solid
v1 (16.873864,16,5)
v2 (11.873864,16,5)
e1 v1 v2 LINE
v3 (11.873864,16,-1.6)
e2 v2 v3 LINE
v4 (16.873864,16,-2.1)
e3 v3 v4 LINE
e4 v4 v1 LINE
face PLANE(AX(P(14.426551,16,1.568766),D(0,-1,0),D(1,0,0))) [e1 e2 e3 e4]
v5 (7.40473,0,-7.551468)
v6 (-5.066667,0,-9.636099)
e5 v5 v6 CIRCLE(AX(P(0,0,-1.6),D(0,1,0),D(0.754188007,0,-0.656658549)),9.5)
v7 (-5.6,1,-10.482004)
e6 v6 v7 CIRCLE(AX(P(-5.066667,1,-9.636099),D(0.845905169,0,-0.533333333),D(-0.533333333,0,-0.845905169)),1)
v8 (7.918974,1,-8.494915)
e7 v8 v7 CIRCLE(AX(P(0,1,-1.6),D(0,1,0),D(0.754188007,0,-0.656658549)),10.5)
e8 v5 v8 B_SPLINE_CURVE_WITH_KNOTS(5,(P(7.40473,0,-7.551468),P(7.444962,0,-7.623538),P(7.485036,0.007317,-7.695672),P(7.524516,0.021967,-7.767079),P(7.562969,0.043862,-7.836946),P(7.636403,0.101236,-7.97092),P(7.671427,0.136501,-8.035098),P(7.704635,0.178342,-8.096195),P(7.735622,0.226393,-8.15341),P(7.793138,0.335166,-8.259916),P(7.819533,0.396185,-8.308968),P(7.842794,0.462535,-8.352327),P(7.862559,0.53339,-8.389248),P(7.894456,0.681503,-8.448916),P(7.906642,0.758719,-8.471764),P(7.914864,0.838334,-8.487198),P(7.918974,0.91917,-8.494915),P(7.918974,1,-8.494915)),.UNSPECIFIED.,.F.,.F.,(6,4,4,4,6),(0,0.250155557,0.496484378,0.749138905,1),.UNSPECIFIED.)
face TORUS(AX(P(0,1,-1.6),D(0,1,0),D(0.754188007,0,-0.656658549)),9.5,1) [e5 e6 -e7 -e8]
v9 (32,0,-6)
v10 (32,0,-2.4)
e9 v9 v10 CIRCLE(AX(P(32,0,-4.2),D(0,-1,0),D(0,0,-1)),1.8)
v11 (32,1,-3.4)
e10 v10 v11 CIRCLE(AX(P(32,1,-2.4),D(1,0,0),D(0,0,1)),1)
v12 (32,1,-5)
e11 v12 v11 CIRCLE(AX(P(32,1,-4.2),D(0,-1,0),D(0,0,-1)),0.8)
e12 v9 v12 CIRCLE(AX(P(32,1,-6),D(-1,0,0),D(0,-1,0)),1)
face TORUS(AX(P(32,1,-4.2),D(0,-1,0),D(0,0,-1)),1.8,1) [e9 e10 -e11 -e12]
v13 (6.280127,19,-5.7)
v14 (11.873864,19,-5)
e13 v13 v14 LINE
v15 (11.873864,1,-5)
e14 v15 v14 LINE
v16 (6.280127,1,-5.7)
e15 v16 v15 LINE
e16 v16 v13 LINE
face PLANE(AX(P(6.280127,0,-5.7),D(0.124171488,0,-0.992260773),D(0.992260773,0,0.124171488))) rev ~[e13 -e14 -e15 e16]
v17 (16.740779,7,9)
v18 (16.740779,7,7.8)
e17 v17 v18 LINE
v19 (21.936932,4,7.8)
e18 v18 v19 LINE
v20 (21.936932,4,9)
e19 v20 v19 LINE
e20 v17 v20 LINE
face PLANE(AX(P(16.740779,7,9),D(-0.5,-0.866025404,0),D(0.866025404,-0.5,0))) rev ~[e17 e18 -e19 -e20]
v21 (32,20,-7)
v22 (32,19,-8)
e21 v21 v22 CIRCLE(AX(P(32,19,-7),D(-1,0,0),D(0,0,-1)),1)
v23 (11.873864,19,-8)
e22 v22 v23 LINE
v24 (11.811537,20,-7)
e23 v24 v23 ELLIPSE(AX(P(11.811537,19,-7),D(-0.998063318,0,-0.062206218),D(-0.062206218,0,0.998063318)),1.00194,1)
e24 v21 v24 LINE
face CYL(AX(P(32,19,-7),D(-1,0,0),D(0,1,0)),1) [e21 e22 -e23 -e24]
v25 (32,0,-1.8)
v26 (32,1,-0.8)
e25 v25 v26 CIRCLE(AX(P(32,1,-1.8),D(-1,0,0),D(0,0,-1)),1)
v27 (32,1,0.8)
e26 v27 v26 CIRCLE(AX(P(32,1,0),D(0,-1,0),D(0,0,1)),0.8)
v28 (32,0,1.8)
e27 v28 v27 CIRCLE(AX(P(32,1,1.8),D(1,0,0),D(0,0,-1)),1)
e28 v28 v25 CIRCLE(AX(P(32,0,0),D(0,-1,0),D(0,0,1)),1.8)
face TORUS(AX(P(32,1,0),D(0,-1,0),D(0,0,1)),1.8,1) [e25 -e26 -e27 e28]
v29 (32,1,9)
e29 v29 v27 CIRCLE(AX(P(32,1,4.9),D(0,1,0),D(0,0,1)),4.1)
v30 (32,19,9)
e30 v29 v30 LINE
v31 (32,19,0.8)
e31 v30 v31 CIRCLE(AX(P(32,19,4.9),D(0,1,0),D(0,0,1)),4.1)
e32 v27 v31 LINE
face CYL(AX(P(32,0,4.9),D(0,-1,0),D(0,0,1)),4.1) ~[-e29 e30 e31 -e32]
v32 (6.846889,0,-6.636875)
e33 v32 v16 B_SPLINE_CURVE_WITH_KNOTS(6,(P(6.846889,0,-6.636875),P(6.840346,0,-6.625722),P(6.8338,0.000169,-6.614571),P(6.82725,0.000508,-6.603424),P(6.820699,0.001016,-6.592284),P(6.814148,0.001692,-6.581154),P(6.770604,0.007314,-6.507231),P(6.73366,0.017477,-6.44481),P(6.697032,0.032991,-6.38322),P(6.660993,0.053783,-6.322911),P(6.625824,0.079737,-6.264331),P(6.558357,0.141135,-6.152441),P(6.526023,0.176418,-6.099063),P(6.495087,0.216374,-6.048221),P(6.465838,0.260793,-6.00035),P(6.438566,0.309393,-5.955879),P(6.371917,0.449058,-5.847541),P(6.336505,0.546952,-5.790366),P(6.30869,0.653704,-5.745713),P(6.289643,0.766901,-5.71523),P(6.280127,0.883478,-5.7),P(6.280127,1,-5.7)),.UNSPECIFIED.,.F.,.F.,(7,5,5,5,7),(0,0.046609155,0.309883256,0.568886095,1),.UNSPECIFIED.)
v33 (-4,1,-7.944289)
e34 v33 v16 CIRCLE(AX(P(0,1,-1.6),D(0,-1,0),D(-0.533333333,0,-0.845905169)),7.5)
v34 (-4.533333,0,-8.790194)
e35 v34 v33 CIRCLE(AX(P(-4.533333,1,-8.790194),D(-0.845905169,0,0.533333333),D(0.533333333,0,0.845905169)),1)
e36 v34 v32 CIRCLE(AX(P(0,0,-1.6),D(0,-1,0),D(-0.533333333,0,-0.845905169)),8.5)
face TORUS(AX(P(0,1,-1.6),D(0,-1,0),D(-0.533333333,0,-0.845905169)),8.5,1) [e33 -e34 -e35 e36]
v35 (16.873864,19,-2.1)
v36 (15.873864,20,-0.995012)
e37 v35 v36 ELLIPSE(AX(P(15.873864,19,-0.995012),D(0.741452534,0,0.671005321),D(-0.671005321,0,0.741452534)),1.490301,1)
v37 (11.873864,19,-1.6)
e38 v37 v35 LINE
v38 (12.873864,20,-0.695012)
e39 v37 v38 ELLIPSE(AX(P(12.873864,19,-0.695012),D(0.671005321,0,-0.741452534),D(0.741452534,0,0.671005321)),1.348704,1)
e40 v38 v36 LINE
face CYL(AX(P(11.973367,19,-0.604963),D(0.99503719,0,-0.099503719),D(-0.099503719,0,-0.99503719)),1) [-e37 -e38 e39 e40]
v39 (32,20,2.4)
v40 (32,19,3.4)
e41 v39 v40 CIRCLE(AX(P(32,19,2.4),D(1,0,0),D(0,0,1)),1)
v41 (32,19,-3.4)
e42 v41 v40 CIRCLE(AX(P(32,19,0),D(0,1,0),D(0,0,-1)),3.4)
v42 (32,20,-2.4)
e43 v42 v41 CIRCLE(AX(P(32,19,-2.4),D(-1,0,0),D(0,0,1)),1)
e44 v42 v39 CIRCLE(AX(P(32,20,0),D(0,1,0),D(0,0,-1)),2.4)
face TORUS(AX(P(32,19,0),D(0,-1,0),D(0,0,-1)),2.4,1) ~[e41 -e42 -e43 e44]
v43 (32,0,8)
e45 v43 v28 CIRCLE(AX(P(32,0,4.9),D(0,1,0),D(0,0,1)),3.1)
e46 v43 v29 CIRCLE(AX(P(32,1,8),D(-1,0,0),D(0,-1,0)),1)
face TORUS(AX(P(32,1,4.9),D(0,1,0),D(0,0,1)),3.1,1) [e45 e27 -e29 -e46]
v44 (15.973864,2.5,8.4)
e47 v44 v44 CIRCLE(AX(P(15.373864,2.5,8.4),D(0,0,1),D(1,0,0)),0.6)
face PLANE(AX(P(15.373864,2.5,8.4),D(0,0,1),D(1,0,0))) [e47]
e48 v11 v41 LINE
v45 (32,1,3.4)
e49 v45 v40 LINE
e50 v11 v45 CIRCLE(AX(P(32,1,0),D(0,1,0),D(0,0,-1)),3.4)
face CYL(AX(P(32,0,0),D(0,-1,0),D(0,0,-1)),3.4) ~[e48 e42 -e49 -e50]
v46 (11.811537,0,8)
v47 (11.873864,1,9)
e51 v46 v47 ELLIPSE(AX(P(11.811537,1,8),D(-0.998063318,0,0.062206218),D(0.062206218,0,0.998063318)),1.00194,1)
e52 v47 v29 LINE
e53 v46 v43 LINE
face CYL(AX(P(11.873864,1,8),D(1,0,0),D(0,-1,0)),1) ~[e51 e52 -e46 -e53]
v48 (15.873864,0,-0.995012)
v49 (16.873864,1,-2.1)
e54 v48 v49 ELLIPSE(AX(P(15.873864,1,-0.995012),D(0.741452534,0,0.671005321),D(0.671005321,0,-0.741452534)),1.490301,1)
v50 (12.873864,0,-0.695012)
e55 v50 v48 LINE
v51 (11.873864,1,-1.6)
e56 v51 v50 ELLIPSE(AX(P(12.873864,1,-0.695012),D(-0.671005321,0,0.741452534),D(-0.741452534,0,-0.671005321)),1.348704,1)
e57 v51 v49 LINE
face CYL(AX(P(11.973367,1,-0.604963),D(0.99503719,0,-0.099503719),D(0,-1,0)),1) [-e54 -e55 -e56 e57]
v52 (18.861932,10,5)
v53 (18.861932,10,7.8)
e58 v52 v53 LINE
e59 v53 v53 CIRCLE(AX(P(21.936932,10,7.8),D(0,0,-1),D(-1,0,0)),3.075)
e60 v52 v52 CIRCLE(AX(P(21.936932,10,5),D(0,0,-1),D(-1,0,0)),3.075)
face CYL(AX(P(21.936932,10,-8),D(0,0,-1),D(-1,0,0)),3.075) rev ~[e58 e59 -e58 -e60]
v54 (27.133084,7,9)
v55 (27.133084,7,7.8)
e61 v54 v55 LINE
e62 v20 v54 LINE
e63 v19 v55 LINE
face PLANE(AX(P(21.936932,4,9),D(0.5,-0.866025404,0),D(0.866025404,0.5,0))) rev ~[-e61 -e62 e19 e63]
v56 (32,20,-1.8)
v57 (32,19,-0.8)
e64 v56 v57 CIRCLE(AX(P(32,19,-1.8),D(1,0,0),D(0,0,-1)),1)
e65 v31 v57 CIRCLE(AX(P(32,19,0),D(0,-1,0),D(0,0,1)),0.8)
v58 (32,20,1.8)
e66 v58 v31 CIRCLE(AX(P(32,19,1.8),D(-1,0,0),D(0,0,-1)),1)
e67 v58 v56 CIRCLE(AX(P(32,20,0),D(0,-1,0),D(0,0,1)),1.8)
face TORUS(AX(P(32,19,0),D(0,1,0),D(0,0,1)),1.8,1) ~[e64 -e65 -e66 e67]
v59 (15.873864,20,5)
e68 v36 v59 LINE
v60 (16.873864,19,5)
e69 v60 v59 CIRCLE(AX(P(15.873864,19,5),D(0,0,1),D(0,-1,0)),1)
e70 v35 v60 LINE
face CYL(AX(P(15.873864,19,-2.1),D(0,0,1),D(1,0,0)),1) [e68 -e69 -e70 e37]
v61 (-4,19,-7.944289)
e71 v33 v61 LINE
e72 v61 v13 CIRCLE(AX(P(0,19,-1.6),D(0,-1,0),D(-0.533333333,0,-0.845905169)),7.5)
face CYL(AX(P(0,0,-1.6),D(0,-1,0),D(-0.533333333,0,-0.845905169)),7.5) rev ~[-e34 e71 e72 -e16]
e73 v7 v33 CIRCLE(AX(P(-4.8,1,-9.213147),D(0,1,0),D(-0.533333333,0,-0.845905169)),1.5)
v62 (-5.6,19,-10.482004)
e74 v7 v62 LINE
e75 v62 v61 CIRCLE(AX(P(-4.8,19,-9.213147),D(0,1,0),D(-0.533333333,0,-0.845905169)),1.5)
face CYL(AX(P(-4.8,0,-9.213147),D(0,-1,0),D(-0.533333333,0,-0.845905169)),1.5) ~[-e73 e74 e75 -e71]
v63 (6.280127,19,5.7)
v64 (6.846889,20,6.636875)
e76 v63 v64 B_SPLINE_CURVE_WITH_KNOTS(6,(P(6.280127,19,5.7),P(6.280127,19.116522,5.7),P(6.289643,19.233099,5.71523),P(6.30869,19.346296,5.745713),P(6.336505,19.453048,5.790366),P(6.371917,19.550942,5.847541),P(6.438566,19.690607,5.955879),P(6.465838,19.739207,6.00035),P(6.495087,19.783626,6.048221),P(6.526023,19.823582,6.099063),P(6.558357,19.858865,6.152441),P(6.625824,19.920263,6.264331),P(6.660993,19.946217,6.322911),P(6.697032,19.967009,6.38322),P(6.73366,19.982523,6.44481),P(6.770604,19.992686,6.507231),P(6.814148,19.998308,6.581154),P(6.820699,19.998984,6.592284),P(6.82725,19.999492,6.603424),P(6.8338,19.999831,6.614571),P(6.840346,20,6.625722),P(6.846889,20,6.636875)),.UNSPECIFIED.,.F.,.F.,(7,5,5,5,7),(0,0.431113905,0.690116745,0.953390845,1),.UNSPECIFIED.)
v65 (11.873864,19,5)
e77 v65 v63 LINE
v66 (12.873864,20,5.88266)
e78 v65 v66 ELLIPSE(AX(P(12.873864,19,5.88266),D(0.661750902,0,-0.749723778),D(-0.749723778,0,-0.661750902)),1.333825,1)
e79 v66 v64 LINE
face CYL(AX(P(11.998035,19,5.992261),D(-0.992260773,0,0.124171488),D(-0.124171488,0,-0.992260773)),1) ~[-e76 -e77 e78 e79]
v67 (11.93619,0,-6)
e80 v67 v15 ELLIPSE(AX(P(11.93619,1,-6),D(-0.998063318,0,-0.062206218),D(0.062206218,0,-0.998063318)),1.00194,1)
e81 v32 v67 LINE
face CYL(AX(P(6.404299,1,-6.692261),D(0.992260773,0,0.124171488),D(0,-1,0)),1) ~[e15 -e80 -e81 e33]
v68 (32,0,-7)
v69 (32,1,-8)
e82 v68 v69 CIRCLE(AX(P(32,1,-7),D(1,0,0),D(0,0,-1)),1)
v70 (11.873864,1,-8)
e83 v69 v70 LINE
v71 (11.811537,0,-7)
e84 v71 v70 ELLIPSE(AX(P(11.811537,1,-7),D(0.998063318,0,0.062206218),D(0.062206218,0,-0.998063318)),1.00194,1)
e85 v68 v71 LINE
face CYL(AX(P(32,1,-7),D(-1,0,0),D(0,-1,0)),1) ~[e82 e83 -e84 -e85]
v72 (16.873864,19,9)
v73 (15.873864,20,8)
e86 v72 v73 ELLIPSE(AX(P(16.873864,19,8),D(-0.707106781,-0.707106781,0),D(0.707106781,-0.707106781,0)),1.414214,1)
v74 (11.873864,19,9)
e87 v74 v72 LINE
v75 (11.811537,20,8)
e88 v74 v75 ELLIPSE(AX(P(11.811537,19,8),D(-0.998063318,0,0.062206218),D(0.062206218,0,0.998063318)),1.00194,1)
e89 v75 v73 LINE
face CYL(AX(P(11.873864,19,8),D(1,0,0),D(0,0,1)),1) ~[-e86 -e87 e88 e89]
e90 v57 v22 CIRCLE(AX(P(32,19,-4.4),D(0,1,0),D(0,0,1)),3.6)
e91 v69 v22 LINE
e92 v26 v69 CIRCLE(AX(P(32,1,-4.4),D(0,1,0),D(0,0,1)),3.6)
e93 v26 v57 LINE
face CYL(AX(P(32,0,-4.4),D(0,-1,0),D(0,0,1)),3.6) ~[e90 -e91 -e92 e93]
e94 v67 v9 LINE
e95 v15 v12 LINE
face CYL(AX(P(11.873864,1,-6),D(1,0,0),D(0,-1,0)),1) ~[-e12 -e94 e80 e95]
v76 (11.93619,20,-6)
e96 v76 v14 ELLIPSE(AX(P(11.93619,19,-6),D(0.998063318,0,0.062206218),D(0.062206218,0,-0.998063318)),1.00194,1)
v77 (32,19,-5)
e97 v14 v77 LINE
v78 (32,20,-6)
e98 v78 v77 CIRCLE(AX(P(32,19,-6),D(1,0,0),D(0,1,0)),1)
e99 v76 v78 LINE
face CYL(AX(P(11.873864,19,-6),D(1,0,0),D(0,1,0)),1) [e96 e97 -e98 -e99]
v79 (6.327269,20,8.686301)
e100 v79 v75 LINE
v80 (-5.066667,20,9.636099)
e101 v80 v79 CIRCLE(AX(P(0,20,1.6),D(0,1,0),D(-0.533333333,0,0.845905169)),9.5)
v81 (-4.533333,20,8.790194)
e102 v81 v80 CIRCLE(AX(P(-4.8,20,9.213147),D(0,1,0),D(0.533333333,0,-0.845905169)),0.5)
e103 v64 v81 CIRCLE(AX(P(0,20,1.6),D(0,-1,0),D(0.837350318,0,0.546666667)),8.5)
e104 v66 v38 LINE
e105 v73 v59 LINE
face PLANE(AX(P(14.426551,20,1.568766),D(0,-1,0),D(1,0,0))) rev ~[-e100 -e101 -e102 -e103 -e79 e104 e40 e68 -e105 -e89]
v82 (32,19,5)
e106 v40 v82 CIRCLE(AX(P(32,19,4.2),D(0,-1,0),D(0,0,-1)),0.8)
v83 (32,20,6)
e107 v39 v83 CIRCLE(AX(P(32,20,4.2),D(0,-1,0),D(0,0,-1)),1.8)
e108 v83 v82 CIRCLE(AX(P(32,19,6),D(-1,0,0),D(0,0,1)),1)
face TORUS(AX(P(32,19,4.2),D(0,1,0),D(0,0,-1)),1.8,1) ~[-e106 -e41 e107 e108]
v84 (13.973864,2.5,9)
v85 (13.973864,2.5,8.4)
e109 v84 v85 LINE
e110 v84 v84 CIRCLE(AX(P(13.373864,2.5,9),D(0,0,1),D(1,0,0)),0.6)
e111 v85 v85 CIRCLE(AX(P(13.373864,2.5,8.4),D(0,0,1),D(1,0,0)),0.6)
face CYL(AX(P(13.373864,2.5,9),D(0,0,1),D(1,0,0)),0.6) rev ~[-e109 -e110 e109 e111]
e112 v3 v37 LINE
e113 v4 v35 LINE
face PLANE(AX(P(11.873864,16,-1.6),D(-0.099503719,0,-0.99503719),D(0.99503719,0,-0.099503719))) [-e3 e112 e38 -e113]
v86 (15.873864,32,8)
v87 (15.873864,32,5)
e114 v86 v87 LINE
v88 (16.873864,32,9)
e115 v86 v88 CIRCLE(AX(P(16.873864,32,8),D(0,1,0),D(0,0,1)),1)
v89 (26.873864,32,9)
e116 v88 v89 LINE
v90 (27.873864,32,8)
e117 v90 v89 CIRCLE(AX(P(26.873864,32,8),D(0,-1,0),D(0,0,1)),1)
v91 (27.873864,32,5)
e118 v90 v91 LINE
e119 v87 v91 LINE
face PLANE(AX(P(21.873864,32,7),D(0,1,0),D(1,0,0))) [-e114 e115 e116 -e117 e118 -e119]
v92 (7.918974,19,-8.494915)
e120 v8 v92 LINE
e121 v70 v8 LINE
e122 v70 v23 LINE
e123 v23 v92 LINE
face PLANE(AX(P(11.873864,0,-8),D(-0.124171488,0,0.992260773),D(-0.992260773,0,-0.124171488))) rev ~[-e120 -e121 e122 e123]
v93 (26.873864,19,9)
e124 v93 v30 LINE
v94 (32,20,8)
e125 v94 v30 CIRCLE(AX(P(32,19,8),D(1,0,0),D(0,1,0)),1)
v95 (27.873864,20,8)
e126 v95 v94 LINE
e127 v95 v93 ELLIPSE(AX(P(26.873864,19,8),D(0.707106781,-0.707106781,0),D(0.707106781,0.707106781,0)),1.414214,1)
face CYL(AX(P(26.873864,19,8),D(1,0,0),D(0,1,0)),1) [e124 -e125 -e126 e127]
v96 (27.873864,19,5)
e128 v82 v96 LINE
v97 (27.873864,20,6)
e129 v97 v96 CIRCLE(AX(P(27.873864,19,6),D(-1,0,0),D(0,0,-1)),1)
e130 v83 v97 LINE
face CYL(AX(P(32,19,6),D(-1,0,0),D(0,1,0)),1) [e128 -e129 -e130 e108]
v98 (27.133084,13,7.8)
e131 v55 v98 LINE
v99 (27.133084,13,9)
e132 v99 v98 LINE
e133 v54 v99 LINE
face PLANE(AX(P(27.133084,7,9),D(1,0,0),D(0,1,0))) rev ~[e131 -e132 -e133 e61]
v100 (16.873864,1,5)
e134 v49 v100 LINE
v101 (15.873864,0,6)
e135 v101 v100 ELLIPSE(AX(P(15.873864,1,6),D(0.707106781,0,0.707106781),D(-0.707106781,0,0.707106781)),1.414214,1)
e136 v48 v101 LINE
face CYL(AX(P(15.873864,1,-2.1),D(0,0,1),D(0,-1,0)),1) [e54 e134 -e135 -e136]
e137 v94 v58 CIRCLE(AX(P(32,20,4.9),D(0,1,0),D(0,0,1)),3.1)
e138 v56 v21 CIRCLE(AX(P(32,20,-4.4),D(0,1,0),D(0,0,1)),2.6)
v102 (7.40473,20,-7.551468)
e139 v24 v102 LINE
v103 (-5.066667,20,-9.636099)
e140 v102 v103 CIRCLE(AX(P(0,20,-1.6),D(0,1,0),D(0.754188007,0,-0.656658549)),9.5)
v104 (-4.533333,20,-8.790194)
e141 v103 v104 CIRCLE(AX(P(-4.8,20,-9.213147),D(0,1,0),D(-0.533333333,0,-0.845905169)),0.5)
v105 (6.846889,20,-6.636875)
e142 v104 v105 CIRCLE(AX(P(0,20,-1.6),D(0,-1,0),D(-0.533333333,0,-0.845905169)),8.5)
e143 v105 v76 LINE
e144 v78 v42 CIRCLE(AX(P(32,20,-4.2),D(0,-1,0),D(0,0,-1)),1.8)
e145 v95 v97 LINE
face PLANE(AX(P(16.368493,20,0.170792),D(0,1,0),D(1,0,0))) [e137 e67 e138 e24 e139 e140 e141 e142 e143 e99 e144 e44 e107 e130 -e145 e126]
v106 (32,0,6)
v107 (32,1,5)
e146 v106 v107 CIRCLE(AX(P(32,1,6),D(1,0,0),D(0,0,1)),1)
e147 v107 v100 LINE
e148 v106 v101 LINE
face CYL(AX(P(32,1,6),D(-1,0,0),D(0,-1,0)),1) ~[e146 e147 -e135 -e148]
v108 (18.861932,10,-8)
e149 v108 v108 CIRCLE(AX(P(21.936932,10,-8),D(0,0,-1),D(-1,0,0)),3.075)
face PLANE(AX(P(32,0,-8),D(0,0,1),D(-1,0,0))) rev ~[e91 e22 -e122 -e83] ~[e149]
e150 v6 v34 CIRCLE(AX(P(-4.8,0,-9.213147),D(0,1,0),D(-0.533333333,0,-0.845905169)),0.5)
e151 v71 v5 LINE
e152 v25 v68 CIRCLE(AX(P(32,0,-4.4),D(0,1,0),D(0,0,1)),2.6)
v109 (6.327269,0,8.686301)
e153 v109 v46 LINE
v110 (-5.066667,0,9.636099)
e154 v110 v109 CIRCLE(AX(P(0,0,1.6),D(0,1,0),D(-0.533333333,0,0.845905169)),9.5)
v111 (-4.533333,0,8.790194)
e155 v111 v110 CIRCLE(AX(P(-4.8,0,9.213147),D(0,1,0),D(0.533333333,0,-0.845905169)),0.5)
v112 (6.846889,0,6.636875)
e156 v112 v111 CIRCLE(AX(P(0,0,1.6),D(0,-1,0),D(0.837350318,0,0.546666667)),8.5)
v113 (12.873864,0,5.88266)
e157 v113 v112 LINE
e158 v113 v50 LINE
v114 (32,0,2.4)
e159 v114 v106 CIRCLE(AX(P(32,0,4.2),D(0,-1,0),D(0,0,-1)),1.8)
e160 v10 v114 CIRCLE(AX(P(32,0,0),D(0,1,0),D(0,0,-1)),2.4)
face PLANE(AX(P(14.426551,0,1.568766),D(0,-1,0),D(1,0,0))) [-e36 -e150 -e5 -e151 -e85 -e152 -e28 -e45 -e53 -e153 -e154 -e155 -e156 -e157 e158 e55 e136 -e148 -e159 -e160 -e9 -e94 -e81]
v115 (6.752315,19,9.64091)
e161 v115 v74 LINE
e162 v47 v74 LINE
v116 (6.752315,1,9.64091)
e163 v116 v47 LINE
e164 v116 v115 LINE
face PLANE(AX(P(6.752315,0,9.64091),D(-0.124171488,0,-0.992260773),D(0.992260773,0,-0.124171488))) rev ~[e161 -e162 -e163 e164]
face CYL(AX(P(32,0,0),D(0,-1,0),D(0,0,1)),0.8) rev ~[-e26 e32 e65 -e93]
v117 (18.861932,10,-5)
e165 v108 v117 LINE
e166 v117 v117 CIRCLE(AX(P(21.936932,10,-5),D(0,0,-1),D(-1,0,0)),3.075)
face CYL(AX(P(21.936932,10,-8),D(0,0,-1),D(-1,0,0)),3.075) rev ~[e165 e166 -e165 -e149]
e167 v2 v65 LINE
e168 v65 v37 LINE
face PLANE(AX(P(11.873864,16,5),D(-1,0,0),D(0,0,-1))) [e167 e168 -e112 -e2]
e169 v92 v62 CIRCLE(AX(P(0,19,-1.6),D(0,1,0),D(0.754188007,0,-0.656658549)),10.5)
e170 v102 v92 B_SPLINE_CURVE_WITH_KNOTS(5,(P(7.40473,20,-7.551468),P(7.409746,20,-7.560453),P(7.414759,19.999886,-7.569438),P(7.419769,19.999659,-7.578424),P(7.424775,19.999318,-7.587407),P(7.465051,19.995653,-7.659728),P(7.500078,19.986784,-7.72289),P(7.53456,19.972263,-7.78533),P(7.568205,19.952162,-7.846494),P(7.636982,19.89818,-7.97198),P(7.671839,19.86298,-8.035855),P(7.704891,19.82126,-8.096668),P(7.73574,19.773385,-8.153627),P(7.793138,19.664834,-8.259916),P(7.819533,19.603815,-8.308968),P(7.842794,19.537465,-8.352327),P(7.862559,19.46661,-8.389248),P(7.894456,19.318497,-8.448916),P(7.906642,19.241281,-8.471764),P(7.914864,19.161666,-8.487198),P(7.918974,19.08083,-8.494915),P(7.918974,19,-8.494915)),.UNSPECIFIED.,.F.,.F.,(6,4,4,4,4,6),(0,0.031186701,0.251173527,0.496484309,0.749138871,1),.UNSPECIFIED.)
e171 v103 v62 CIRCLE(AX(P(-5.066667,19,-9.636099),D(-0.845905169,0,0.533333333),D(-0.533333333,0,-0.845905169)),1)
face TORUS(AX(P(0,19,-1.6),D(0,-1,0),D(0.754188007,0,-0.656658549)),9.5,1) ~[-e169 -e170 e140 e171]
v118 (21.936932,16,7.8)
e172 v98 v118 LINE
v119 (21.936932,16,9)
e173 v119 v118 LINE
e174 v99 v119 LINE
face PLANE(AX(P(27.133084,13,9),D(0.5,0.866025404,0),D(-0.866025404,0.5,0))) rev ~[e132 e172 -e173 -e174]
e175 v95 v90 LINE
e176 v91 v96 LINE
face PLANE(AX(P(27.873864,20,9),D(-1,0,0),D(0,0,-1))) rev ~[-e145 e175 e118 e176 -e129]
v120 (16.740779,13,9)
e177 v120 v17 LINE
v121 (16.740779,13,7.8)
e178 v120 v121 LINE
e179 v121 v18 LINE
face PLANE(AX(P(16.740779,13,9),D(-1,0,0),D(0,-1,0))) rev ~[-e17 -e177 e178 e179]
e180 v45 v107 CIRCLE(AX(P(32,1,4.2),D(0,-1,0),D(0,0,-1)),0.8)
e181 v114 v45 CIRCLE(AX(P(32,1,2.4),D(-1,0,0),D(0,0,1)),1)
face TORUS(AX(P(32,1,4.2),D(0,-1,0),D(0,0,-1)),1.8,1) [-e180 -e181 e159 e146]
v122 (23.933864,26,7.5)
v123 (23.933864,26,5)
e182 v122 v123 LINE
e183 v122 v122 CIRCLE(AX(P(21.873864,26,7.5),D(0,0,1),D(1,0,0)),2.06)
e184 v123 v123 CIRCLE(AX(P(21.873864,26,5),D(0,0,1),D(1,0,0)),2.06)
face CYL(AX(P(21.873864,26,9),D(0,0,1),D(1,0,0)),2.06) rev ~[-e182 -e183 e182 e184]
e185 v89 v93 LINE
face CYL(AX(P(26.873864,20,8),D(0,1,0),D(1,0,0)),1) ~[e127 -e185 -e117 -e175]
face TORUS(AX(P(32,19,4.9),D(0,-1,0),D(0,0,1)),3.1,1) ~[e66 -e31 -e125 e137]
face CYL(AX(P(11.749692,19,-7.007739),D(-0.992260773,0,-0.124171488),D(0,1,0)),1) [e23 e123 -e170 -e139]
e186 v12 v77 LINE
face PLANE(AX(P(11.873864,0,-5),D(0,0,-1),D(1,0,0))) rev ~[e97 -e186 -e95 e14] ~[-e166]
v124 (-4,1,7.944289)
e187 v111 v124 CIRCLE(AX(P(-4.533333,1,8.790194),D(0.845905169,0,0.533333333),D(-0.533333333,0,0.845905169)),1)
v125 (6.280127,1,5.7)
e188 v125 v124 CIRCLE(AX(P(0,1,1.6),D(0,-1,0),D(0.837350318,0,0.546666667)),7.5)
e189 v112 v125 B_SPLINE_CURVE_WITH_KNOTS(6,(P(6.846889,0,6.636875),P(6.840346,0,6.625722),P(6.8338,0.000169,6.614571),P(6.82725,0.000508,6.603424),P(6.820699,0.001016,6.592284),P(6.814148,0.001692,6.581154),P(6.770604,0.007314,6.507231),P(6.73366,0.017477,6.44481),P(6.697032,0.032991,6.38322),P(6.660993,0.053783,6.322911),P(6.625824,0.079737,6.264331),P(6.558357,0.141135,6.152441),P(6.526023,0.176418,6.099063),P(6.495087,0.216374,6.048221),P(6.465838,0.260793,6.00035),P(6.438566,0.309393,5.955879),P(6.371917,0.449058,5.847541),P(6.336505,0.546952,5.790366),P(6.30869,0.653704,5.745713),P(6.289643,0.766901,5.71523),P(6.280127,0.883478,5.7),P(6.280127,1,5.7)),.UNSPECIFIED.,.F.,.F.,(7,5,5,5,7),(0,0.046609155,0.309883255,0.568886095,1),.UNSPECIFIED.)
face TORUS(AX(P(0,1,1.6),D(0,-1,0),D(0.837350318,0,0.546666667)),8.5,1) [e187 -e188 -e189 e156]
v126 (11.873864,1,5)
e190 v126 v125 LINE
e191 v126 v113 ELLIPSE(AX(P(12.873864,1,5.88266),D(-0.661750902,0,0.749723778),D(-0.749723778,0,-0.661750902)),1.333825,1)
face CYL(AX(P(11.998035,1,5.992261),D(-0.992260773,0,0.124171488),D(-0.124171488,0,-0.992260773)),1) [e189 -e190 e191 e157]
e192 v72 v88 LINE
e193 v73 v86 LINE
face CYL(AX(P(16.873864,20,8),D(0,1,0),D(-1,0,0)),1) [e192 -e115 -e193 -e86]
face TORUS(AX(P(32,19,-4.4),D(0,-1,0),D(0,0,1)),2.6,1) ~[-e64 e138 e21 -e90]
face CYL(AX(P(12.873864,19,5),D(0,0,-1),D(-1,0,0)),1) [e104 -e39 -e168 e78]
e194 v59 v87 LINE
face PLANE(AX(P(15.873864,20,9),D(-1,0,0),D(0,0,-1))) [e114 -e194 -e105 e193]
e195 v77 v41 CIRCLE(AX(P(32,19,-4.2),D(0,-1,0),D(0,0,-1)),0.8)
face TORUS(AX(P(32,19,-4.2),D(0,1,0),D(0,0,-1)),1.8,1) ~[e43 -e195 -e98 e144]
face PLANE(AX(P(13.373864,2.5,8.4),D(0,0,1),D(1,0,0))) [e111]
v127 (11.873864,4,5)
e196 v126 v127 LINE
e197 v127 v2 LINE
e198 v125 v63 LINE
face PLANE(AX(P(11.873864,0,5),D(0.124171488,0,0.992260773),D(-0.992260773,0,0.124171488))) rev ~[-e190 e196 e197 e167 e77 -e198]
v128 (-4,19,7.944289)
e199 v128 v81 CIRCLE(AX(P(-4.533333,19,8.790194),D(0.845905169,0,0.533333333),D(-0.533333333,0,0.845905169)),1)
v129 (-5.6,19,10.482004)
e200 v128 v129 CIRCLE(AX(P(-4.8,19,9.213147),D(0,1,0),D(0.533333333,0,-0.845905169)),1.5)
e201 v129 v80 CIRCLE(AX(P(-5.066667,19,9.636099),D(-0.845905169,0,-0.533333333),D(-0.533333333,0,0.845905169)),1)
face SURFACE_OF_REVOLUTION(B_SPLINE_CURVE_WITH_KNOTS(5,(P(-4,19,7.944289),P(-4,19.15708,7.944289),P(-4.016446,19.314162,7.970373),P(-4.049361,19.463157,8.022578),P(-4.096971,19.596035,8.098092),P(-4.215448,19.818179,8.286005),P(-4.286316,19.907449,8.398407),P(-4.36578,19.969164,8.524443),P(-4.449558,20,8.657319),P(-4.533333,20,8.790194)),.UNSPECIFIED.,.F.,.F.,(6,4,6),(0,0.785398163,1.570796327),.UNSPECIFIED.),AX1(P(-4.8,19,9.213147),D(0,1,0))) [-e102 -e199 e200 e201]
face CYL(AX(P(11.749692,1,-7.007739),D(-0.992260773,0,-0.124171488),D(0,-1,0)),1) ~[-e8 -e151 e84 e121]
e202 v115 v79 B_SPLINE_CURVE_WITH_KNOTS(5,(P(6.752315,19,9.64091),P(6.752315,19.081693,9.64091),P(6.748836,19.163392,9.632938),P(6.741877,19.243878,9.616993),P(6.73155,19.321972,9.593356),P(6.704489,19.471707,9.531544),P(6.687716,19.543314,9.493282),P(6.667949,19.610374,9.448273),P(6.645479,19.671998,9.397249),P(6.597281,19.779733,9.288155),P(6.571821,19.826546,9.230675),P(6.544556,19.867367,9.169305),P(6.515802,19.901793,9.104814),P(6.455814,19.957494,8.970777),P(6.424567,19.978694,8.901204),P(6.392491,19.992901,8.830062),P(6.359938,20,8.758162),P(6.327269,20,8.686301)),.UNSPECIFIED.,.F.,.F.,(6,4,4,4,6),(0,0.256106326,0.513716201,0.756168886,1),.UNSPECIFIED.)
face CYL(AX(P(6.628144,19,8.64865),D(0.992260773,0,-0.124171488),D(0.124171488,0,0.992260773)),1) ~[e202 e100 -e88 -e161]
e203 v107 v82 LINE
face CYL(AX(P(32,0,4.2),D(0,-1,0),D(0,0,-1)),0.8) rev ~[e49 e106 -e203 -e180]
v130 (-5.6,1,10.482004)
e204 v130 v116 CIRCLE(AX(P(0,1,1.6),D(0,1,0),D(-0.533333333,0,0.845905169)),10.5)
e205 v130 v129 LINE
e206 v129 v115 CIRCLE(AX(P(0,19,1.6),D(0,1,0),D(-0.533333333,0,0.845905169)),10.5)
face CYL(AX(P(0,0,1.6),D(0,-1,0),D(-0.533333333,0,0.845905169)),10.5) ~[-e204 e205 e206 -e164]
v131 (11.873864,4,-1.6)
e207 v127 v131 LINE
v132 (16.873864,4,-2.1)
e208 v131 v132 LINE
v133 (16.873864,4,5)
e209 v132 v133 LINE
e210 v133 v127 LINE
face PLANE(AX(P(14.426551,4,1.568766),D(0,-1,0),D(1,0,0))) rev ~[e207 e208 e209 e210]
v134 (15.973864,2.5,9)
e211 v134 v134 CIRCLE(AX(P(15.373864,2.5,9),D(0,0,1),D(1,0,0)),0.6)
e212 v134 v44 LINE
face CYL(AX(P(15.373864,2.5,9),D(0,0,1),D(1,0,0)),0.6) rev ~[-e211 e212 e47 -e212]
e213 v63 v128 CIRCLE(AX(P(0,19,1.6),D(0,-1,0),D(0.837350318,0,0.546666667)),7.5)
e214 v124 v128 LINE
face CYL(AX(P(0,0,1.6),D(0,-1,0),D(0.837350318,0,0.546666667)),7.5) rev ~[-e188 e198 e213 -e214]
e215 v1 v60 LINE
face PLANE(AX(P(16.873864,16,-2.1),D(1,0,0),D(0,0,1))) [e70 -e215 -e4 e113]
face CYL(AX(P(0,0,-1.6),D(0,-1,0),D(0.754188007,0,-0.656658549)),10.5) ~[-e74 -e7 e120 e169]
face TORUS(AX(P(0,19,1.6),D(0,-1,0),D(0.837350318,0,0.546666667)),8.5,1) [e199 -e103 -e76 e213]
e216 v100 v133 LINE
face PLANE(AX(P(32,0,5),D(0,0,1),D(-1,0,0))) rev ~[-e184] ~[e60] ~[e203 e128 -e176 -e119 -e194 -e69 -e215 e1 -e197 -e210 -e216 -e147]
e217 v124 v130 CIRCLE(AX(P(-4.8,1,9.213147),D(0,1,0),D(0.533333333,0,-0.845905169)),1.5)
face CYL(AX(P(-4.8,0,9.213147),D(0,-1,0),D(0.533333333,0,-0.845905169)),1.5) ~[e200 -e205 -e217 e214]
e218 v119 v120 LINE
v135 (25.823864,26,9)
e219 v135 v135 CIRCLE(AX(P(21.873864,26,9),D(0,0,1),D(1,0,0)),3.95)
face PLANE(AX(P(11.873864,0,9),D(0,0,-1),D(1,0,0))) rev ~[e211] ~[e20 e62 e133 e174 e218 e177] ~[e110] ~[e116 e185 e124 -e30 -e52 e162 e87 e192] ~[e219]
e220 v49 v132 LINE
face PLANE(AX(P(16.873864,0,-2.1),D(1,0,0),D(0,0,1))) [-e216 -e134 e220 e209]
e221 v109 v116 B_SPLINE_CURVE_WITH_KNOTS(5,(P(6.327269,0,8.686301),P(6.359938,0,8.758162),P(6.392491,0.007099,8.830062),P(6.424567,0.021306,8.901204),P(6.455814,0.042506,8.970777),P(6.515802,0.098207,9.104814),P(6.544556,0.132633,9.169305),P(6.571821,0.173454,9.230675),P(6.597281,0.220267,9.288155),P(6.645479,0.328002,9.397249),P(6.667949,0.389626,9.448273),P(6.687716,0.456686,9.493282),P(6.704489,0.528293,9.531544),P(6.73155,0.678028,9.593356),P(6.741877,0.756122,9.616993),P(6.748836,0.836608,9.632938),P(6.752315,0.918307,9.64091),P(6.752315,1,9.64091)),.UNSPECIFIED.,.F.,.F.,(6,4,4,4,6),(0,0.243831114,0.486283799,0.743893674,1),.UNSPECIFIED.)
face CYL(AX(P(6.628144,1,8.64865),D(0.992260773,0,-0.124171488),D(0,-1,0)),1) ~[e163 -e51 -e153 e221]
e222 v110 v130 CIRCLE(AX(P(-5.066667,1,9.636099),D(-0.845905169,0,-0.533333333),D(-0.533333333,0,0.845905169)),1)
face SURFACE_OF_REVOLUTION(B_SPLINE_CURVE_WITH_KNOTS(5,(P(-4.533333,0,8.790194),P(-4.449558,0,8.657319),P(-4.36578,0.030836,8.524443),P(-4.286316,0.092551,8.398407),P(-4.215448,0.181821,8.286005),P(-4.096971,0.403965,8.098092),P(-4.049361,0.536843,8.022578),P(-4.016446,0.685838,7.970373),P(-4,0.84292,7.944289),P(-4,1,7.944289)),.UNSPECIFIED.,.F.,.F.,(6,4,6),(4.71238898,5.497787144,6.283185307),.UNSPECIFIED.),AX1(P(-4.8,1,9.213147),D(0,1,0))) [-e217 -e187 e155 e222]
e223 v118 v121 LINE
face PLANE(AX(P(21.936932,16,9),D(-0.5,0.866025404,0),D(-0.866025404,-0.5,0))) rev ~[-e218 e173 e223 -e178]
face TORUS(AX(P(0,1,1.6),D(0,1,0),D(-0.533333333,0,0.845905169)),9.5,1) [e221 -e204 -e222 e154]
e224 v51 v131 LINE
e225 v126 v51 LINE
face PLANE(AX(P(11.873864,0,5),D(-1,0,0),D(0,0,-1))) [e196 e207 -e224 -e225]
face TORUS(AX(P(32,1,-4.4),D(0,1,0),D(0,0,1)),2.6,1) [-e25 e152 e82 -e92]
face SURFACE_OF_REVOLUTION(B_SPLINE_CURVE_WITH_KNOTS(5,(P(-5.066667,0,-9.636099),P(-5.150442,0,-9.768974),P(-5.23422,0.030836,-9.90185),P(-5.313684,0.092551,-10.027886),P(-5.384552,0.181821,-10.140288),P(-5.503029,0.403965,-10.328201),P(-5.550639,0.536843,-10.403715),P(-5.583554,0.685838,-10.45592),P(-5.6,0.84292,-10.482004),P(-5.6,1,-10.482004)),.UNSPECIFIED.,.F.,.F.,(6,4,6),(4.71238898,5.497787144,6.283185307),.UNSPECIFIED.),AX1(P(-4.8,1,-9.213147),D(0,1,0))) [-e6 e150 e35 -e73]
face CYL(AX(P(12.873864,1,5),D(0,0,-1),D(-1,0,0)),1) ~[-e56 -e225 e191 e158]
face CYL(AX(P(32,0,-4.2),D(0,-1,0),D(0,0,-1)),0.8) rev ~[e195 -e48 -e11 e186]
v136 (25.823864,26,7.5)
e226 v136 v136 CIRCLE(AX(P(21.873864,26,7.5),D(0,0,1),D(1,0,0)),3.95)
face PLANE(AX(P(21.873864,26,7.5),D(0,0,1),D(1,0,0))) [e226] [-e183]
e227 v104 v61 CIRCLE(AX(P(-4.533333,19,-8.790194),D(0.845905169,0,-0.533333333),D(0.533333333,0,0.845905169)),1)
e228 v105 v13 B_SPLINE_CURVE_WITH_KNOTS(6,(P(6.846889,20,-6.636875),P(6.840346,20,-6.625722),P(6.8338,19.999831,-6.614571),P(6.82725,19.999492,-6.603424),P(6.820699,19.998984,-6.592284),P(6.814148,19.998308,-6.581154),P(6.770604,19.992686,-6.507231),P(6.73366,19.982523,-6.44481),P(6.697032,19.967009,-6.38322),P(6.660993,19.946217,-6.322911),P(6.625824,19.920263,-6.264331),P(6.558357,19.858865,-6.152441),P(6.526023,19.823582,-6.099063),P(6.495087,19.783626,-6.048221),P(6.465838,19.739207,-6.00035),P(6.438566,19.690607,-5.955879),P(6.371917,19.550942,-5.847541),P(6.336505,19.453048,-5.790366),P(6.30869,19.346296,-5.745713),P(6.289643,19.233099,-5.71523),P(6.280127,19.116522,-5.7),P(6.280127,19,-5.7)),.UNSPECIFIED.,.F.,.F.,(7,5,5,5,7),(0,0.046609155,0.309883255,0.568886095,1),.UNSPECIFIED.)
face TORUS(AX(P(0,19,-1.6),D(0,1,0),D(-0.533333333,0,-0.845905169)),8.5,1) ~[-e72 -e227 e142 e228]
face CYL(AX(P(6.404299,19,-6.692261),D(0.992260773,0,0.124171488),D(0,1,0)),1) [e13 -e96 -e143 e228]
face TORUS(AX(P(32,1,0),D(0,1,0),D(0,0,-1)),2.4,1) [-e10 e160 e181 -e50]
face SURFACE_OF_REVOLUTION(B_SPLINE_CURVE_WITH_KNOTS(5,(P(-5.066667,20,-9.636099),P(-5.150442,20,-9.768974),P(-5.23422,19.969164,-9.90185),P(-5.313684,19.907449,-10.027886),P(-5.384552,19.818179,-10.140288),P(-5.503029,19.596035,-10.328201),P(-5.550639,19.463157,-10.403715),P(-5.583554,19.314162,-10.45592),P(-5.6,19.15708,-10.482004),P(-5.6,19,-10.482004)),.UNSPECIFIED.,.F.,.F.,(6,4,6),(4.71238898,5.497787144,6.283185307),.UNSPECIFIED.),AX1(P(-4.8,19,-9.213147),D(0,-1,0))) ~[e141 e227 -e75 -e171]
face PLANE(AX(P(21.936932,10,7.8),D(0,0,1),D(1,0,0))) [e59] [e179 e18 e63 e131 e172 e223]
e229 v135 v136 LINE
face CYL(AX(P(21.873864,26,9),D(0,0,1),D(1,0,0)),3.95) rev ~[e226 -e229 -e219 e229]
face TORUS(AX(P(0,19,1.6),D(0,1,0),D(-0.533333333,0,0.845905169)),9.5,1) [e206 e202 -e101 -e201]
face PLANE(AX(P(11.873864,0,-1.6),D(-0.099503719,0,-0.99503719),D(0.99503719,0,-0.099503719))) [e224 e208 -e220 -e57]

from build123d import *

# Parameters (mm, degrees)
BOSS_EXTRUDE1_DEPTH = 20
SKETCH3_R           = 3.075
CUT_EXTRUDE1_DEPTH  = 46.904466014
CUT_EXTRUDE2_DEPTH  = 1.2
SKETCH5_W           = 12
SKETCH5_H           = 4
BOSS_EXTRUDE2_DEPTH = 12
SKETCH6_R           = 2.06
CUT_EXTRUDE3_DEPTH  = 53.653774793
BOSS_EXTRUDE3_DEPTH = 4
BOSS_EXTRUDE4_START = -16
BOSS_EXTRUDE4_DEPTH = 4
SKETCH8_R           = 3.95
CUT_EXTRUDE4_DEPTH  = 1.5
FILLET1_R           = 1
FILLET7_R           = 1
FILLET10_R          = 1
FILLET11_R          = 1
SKETCH9_R           = 0.6
CUT_EXTRUDE5_DEPTH  = 0.6


with BuildPart() as part:
    # Sketch2 → Boss-Extrude1 (new body)
    with BuildSketch(Plane(origin=(0, 0, 0), x_dir=(1, 0, 0), z_dir=(0, 1, 0))):
        with BuildLine():
            Line((11.873863542, 5), (32, 5))
            ThreePointArc((32, 5), (32.8, 4.2), (32, 3.4))
            ThreePointArc((32, 3.4), (28.6, 0), (32, -3.4))
            ThreePointArc((32, -3.4), (32.8, -4.2), (32, -5))
            Line((32, -5), (11.873863542, -5))
            Line((11.873863542, -5), (6.280127387, -5.7))
            ThreePointArc((6.280127387, -5.7), (1.599672856, -8.927417468), (-4, -7.94428877))
            ThreePointArc((-4, -7.94428877), (-6.068857754, -8.413146524), (-5.6, -10.482004278))
            ThreePointArc((-5.6, -10.482004278), (0.713314262, -12.075742588), (6.752315105, -9.640910441))
            Line((6.752315105, -9.640910441), (11.873863542, -9))
            Line((11.873863542, -9), (32, -9))
            ThreePointArc((32, -9), (36.1, -4.9), (32, -0.8))
            ThreePointArc((32, -0.8), (31.2, 0), (32, 0.8))
            ThreePointArc((32, 0.8), (35.6, 4.4), (32, 8))
            Line((32, 8), (11.873863542, 8))
            Line((11.873863542, 8), (7.918974072, 8.494914768))
            ThreePointArc((7.918974072, 8.494914768), (1.52693856, 11.988380944), (-5.6, 10.482004278))
            ThreePointArc((-5.6, 10.482004278), (-6.068857754, 8.413146524), (-4, 7.94428877))
            ThreePointArc((-4, 7.94428877), (1.599672856, 8.927417468), (6.280127387, 5.7))
            Line((6.280127387, 5.7), (11.873863542, 5))
        make_face()
    extrude(amount=BOSS_EXTRUDE1_DEPTH)

    # Sketch3 → Cut-Extrude1 (cut, through all)
    with BuildSketch(Plane(origin=(0, 0, -8), x_dir=(-1, 0, 0), z_dir=(0, 0, -1))):
        with Locations((-21.936931771, 10)):
            Circle(SKETCH3_R)
    extrude(amount=-CUT_EXTRUDE1_DEPTH, mode=Mode.SUBTRACT)

    # Sketch4 → Cut-Extrude2 (cut)
    with BuildSketch(Plane.XY.offset(9)):
        Polygon((21.936931771, 4), (27.133084194, 7), (27.133084194, 13), (21.936931771, 16), (16.740779349, 13), (16.740779349, 7), align=None)
    extrude(amount=-CUT_EXTRUDE2_DEPTH, mode=Mode.SUBTRACT)

    # Sketch5 → Boss-Extrude2 (add)
    with BuildSketch(Plane(origin=(0, 20, 0), x_dir=(1, 0, 0), z_dir=(0, 1, 0))):
        with Locations((21.873863542, -7)):
            Rectangle(SKETCH5_W, SKETCH5_H)
    extrude(amount=BOSS_EXTRUDE2_DEPTH)

    # Sketch6 → Cut-Extrude3 (cut, through all)
    with BuildSketch(Plane.XY.offset(9)):
        with Locations((21.873863542, 26)):
            Circle(SKETCH6_R)
    extrude(amount=-CUT_EXTRUDE3_DEPTH, mode=Mode.SUBTRACT)

    # Sketch7 → Boss-Extrude3 (add)
    with BuildSketch(Plane.XZ):
        Polygon((11.873863542, 5), (11.873863542, -1.6), (16.873863542, -2.1), (16.873863542, 5), align=None)
    extrude(amount=-BOSS_EXTRUDE3_DEPTH)

    # Sketch7<2> → Boss-Extrude4 (add)
    with BuildSketch(Plane.XZ.offset(BOSS_EXTRUDE4_START)):
        Polygon((11.873863542, 5), (11.873863542, -1.6), (16.873863542, -2.1), (16.873863542, 5), align=None)
    extrude(amount=-BOSS_EXTRUDE4_DEPTH)

    # Sketch8 → Cut-Extrude4 (cut)
    with BuildSketch(Plane.XY.offset(9)):
        with Locations((21.873863542, 26)):
            Circle(SKETCH8_R)
    extrude(amount=-CUT_EXTRUDE4_DEPTH, mode=Mode.SUBTRACT)

    # Fillet1
    fillet1_edges = [part.edges().sort_by_distance(p)[0] for p in [
        (11.873863542, 0, 1.7),
        (14.373863542, 0, -1.85),
        (16.873863542, 0, 1.45),
        (21.936931771, 0, -5),
        (9.076995465, 0, -5.35),
        (1.599672856, 0, -8.927417468),
        (-6.068857754, 0, -8.413146524),
        (1.52693856, 0, -11.988380944),
        (9.896418807, 0, -8.247457384),
        (21.936931771, 0, -8),
        (35.6, 0, -4.4),
        (31.2, 0, 0),
        (36.1, 0, 4.9),
        (21.936931771, 0, 9),
        (9.313089324, 0, 9.320455221),
        (0.713314262, 0, 12.075742588),
        (-6.068857754, 0, 8.413146524),
        (1.599672856, 0, 8.927417468),
        (9.076995465, 0, 5.35),
        (24.436931771, 0, 5),
        (32.8, 0, 4.2),
        (28.6, 0, 0),
        (32.8, 0, -4.2),
    ]]
    fillet(fillet1_edges, radius=FILLET1_R)

    # Fillet7
    fillet7_edges = [part.edges().sort_by_distance(p)[0] for p in [
        (15.873863542, 26, 9),
        (27.873863542, 26, 9),
    ]]
    fillet(fillet7_edges, radius=FILLET7_R)

    # Fillet10
    fillet10_edges = [part.edges().sort_by_distance(p)[0] for p in [
        (21.936931771, 20, -8),
        (35.6, 20, -4.4),
        (31.2, 20, 0),
        (36.1, 20, 4.9),
        (29.436931771, 20, 9),
        (32.8, 20, 4.2),
        (28.6, 20, 0),
        (32.8, 20, -4.2),
        (21.936931771, 20, -5),
        (9.076995465, 20, -5.35),
        (1.599672856, 20, -8.927417468),
        (-6.068857754, 20, -8.413146524),
        (1.52693856, 20, -11.988380944),
        (9.896418807, 20, -8.247457384),
        (29.936931771, 20, 5),
    ]]
    fillet(fillet10_edges, radius=FILLET10_R)

    # Fillet11
    fillet11_edges = [part.edges().sort_by_distance(p)[0] for p in [
        (14.373863542, 20, 9),
        (9.313089324, 20, 9.320455221),
        (0.713314262, 20, 12.075742588),
        (-6.068857754, 20, 8.413146524),
        (1.599672856, 20, 8.927417468),
        (9.076995465, 20, 5.35),
        (16.873863542, 20, 1.45),
        (14.373863542, 20, -1.85),
        (11.873863542, 20, 1.7),
    ]]
    fillet(fillet11_edges, radius=FILLET11_R)

    # Sketch9 → Cut-Extrude5 (cut)
    with BuildSketch(Plane.XY.offset(9)):
        with Locations((13.373863542, 2.5)):
            Circle(SKETCH9_R)
        with Locations((15.373863542, 2.5)):
            Circle(SKETCH9_R)
    extrude(amount=-CUT_EXTRUDE5_DEPTH, mode=Mode.SUBTRACT)


solid = part.part
